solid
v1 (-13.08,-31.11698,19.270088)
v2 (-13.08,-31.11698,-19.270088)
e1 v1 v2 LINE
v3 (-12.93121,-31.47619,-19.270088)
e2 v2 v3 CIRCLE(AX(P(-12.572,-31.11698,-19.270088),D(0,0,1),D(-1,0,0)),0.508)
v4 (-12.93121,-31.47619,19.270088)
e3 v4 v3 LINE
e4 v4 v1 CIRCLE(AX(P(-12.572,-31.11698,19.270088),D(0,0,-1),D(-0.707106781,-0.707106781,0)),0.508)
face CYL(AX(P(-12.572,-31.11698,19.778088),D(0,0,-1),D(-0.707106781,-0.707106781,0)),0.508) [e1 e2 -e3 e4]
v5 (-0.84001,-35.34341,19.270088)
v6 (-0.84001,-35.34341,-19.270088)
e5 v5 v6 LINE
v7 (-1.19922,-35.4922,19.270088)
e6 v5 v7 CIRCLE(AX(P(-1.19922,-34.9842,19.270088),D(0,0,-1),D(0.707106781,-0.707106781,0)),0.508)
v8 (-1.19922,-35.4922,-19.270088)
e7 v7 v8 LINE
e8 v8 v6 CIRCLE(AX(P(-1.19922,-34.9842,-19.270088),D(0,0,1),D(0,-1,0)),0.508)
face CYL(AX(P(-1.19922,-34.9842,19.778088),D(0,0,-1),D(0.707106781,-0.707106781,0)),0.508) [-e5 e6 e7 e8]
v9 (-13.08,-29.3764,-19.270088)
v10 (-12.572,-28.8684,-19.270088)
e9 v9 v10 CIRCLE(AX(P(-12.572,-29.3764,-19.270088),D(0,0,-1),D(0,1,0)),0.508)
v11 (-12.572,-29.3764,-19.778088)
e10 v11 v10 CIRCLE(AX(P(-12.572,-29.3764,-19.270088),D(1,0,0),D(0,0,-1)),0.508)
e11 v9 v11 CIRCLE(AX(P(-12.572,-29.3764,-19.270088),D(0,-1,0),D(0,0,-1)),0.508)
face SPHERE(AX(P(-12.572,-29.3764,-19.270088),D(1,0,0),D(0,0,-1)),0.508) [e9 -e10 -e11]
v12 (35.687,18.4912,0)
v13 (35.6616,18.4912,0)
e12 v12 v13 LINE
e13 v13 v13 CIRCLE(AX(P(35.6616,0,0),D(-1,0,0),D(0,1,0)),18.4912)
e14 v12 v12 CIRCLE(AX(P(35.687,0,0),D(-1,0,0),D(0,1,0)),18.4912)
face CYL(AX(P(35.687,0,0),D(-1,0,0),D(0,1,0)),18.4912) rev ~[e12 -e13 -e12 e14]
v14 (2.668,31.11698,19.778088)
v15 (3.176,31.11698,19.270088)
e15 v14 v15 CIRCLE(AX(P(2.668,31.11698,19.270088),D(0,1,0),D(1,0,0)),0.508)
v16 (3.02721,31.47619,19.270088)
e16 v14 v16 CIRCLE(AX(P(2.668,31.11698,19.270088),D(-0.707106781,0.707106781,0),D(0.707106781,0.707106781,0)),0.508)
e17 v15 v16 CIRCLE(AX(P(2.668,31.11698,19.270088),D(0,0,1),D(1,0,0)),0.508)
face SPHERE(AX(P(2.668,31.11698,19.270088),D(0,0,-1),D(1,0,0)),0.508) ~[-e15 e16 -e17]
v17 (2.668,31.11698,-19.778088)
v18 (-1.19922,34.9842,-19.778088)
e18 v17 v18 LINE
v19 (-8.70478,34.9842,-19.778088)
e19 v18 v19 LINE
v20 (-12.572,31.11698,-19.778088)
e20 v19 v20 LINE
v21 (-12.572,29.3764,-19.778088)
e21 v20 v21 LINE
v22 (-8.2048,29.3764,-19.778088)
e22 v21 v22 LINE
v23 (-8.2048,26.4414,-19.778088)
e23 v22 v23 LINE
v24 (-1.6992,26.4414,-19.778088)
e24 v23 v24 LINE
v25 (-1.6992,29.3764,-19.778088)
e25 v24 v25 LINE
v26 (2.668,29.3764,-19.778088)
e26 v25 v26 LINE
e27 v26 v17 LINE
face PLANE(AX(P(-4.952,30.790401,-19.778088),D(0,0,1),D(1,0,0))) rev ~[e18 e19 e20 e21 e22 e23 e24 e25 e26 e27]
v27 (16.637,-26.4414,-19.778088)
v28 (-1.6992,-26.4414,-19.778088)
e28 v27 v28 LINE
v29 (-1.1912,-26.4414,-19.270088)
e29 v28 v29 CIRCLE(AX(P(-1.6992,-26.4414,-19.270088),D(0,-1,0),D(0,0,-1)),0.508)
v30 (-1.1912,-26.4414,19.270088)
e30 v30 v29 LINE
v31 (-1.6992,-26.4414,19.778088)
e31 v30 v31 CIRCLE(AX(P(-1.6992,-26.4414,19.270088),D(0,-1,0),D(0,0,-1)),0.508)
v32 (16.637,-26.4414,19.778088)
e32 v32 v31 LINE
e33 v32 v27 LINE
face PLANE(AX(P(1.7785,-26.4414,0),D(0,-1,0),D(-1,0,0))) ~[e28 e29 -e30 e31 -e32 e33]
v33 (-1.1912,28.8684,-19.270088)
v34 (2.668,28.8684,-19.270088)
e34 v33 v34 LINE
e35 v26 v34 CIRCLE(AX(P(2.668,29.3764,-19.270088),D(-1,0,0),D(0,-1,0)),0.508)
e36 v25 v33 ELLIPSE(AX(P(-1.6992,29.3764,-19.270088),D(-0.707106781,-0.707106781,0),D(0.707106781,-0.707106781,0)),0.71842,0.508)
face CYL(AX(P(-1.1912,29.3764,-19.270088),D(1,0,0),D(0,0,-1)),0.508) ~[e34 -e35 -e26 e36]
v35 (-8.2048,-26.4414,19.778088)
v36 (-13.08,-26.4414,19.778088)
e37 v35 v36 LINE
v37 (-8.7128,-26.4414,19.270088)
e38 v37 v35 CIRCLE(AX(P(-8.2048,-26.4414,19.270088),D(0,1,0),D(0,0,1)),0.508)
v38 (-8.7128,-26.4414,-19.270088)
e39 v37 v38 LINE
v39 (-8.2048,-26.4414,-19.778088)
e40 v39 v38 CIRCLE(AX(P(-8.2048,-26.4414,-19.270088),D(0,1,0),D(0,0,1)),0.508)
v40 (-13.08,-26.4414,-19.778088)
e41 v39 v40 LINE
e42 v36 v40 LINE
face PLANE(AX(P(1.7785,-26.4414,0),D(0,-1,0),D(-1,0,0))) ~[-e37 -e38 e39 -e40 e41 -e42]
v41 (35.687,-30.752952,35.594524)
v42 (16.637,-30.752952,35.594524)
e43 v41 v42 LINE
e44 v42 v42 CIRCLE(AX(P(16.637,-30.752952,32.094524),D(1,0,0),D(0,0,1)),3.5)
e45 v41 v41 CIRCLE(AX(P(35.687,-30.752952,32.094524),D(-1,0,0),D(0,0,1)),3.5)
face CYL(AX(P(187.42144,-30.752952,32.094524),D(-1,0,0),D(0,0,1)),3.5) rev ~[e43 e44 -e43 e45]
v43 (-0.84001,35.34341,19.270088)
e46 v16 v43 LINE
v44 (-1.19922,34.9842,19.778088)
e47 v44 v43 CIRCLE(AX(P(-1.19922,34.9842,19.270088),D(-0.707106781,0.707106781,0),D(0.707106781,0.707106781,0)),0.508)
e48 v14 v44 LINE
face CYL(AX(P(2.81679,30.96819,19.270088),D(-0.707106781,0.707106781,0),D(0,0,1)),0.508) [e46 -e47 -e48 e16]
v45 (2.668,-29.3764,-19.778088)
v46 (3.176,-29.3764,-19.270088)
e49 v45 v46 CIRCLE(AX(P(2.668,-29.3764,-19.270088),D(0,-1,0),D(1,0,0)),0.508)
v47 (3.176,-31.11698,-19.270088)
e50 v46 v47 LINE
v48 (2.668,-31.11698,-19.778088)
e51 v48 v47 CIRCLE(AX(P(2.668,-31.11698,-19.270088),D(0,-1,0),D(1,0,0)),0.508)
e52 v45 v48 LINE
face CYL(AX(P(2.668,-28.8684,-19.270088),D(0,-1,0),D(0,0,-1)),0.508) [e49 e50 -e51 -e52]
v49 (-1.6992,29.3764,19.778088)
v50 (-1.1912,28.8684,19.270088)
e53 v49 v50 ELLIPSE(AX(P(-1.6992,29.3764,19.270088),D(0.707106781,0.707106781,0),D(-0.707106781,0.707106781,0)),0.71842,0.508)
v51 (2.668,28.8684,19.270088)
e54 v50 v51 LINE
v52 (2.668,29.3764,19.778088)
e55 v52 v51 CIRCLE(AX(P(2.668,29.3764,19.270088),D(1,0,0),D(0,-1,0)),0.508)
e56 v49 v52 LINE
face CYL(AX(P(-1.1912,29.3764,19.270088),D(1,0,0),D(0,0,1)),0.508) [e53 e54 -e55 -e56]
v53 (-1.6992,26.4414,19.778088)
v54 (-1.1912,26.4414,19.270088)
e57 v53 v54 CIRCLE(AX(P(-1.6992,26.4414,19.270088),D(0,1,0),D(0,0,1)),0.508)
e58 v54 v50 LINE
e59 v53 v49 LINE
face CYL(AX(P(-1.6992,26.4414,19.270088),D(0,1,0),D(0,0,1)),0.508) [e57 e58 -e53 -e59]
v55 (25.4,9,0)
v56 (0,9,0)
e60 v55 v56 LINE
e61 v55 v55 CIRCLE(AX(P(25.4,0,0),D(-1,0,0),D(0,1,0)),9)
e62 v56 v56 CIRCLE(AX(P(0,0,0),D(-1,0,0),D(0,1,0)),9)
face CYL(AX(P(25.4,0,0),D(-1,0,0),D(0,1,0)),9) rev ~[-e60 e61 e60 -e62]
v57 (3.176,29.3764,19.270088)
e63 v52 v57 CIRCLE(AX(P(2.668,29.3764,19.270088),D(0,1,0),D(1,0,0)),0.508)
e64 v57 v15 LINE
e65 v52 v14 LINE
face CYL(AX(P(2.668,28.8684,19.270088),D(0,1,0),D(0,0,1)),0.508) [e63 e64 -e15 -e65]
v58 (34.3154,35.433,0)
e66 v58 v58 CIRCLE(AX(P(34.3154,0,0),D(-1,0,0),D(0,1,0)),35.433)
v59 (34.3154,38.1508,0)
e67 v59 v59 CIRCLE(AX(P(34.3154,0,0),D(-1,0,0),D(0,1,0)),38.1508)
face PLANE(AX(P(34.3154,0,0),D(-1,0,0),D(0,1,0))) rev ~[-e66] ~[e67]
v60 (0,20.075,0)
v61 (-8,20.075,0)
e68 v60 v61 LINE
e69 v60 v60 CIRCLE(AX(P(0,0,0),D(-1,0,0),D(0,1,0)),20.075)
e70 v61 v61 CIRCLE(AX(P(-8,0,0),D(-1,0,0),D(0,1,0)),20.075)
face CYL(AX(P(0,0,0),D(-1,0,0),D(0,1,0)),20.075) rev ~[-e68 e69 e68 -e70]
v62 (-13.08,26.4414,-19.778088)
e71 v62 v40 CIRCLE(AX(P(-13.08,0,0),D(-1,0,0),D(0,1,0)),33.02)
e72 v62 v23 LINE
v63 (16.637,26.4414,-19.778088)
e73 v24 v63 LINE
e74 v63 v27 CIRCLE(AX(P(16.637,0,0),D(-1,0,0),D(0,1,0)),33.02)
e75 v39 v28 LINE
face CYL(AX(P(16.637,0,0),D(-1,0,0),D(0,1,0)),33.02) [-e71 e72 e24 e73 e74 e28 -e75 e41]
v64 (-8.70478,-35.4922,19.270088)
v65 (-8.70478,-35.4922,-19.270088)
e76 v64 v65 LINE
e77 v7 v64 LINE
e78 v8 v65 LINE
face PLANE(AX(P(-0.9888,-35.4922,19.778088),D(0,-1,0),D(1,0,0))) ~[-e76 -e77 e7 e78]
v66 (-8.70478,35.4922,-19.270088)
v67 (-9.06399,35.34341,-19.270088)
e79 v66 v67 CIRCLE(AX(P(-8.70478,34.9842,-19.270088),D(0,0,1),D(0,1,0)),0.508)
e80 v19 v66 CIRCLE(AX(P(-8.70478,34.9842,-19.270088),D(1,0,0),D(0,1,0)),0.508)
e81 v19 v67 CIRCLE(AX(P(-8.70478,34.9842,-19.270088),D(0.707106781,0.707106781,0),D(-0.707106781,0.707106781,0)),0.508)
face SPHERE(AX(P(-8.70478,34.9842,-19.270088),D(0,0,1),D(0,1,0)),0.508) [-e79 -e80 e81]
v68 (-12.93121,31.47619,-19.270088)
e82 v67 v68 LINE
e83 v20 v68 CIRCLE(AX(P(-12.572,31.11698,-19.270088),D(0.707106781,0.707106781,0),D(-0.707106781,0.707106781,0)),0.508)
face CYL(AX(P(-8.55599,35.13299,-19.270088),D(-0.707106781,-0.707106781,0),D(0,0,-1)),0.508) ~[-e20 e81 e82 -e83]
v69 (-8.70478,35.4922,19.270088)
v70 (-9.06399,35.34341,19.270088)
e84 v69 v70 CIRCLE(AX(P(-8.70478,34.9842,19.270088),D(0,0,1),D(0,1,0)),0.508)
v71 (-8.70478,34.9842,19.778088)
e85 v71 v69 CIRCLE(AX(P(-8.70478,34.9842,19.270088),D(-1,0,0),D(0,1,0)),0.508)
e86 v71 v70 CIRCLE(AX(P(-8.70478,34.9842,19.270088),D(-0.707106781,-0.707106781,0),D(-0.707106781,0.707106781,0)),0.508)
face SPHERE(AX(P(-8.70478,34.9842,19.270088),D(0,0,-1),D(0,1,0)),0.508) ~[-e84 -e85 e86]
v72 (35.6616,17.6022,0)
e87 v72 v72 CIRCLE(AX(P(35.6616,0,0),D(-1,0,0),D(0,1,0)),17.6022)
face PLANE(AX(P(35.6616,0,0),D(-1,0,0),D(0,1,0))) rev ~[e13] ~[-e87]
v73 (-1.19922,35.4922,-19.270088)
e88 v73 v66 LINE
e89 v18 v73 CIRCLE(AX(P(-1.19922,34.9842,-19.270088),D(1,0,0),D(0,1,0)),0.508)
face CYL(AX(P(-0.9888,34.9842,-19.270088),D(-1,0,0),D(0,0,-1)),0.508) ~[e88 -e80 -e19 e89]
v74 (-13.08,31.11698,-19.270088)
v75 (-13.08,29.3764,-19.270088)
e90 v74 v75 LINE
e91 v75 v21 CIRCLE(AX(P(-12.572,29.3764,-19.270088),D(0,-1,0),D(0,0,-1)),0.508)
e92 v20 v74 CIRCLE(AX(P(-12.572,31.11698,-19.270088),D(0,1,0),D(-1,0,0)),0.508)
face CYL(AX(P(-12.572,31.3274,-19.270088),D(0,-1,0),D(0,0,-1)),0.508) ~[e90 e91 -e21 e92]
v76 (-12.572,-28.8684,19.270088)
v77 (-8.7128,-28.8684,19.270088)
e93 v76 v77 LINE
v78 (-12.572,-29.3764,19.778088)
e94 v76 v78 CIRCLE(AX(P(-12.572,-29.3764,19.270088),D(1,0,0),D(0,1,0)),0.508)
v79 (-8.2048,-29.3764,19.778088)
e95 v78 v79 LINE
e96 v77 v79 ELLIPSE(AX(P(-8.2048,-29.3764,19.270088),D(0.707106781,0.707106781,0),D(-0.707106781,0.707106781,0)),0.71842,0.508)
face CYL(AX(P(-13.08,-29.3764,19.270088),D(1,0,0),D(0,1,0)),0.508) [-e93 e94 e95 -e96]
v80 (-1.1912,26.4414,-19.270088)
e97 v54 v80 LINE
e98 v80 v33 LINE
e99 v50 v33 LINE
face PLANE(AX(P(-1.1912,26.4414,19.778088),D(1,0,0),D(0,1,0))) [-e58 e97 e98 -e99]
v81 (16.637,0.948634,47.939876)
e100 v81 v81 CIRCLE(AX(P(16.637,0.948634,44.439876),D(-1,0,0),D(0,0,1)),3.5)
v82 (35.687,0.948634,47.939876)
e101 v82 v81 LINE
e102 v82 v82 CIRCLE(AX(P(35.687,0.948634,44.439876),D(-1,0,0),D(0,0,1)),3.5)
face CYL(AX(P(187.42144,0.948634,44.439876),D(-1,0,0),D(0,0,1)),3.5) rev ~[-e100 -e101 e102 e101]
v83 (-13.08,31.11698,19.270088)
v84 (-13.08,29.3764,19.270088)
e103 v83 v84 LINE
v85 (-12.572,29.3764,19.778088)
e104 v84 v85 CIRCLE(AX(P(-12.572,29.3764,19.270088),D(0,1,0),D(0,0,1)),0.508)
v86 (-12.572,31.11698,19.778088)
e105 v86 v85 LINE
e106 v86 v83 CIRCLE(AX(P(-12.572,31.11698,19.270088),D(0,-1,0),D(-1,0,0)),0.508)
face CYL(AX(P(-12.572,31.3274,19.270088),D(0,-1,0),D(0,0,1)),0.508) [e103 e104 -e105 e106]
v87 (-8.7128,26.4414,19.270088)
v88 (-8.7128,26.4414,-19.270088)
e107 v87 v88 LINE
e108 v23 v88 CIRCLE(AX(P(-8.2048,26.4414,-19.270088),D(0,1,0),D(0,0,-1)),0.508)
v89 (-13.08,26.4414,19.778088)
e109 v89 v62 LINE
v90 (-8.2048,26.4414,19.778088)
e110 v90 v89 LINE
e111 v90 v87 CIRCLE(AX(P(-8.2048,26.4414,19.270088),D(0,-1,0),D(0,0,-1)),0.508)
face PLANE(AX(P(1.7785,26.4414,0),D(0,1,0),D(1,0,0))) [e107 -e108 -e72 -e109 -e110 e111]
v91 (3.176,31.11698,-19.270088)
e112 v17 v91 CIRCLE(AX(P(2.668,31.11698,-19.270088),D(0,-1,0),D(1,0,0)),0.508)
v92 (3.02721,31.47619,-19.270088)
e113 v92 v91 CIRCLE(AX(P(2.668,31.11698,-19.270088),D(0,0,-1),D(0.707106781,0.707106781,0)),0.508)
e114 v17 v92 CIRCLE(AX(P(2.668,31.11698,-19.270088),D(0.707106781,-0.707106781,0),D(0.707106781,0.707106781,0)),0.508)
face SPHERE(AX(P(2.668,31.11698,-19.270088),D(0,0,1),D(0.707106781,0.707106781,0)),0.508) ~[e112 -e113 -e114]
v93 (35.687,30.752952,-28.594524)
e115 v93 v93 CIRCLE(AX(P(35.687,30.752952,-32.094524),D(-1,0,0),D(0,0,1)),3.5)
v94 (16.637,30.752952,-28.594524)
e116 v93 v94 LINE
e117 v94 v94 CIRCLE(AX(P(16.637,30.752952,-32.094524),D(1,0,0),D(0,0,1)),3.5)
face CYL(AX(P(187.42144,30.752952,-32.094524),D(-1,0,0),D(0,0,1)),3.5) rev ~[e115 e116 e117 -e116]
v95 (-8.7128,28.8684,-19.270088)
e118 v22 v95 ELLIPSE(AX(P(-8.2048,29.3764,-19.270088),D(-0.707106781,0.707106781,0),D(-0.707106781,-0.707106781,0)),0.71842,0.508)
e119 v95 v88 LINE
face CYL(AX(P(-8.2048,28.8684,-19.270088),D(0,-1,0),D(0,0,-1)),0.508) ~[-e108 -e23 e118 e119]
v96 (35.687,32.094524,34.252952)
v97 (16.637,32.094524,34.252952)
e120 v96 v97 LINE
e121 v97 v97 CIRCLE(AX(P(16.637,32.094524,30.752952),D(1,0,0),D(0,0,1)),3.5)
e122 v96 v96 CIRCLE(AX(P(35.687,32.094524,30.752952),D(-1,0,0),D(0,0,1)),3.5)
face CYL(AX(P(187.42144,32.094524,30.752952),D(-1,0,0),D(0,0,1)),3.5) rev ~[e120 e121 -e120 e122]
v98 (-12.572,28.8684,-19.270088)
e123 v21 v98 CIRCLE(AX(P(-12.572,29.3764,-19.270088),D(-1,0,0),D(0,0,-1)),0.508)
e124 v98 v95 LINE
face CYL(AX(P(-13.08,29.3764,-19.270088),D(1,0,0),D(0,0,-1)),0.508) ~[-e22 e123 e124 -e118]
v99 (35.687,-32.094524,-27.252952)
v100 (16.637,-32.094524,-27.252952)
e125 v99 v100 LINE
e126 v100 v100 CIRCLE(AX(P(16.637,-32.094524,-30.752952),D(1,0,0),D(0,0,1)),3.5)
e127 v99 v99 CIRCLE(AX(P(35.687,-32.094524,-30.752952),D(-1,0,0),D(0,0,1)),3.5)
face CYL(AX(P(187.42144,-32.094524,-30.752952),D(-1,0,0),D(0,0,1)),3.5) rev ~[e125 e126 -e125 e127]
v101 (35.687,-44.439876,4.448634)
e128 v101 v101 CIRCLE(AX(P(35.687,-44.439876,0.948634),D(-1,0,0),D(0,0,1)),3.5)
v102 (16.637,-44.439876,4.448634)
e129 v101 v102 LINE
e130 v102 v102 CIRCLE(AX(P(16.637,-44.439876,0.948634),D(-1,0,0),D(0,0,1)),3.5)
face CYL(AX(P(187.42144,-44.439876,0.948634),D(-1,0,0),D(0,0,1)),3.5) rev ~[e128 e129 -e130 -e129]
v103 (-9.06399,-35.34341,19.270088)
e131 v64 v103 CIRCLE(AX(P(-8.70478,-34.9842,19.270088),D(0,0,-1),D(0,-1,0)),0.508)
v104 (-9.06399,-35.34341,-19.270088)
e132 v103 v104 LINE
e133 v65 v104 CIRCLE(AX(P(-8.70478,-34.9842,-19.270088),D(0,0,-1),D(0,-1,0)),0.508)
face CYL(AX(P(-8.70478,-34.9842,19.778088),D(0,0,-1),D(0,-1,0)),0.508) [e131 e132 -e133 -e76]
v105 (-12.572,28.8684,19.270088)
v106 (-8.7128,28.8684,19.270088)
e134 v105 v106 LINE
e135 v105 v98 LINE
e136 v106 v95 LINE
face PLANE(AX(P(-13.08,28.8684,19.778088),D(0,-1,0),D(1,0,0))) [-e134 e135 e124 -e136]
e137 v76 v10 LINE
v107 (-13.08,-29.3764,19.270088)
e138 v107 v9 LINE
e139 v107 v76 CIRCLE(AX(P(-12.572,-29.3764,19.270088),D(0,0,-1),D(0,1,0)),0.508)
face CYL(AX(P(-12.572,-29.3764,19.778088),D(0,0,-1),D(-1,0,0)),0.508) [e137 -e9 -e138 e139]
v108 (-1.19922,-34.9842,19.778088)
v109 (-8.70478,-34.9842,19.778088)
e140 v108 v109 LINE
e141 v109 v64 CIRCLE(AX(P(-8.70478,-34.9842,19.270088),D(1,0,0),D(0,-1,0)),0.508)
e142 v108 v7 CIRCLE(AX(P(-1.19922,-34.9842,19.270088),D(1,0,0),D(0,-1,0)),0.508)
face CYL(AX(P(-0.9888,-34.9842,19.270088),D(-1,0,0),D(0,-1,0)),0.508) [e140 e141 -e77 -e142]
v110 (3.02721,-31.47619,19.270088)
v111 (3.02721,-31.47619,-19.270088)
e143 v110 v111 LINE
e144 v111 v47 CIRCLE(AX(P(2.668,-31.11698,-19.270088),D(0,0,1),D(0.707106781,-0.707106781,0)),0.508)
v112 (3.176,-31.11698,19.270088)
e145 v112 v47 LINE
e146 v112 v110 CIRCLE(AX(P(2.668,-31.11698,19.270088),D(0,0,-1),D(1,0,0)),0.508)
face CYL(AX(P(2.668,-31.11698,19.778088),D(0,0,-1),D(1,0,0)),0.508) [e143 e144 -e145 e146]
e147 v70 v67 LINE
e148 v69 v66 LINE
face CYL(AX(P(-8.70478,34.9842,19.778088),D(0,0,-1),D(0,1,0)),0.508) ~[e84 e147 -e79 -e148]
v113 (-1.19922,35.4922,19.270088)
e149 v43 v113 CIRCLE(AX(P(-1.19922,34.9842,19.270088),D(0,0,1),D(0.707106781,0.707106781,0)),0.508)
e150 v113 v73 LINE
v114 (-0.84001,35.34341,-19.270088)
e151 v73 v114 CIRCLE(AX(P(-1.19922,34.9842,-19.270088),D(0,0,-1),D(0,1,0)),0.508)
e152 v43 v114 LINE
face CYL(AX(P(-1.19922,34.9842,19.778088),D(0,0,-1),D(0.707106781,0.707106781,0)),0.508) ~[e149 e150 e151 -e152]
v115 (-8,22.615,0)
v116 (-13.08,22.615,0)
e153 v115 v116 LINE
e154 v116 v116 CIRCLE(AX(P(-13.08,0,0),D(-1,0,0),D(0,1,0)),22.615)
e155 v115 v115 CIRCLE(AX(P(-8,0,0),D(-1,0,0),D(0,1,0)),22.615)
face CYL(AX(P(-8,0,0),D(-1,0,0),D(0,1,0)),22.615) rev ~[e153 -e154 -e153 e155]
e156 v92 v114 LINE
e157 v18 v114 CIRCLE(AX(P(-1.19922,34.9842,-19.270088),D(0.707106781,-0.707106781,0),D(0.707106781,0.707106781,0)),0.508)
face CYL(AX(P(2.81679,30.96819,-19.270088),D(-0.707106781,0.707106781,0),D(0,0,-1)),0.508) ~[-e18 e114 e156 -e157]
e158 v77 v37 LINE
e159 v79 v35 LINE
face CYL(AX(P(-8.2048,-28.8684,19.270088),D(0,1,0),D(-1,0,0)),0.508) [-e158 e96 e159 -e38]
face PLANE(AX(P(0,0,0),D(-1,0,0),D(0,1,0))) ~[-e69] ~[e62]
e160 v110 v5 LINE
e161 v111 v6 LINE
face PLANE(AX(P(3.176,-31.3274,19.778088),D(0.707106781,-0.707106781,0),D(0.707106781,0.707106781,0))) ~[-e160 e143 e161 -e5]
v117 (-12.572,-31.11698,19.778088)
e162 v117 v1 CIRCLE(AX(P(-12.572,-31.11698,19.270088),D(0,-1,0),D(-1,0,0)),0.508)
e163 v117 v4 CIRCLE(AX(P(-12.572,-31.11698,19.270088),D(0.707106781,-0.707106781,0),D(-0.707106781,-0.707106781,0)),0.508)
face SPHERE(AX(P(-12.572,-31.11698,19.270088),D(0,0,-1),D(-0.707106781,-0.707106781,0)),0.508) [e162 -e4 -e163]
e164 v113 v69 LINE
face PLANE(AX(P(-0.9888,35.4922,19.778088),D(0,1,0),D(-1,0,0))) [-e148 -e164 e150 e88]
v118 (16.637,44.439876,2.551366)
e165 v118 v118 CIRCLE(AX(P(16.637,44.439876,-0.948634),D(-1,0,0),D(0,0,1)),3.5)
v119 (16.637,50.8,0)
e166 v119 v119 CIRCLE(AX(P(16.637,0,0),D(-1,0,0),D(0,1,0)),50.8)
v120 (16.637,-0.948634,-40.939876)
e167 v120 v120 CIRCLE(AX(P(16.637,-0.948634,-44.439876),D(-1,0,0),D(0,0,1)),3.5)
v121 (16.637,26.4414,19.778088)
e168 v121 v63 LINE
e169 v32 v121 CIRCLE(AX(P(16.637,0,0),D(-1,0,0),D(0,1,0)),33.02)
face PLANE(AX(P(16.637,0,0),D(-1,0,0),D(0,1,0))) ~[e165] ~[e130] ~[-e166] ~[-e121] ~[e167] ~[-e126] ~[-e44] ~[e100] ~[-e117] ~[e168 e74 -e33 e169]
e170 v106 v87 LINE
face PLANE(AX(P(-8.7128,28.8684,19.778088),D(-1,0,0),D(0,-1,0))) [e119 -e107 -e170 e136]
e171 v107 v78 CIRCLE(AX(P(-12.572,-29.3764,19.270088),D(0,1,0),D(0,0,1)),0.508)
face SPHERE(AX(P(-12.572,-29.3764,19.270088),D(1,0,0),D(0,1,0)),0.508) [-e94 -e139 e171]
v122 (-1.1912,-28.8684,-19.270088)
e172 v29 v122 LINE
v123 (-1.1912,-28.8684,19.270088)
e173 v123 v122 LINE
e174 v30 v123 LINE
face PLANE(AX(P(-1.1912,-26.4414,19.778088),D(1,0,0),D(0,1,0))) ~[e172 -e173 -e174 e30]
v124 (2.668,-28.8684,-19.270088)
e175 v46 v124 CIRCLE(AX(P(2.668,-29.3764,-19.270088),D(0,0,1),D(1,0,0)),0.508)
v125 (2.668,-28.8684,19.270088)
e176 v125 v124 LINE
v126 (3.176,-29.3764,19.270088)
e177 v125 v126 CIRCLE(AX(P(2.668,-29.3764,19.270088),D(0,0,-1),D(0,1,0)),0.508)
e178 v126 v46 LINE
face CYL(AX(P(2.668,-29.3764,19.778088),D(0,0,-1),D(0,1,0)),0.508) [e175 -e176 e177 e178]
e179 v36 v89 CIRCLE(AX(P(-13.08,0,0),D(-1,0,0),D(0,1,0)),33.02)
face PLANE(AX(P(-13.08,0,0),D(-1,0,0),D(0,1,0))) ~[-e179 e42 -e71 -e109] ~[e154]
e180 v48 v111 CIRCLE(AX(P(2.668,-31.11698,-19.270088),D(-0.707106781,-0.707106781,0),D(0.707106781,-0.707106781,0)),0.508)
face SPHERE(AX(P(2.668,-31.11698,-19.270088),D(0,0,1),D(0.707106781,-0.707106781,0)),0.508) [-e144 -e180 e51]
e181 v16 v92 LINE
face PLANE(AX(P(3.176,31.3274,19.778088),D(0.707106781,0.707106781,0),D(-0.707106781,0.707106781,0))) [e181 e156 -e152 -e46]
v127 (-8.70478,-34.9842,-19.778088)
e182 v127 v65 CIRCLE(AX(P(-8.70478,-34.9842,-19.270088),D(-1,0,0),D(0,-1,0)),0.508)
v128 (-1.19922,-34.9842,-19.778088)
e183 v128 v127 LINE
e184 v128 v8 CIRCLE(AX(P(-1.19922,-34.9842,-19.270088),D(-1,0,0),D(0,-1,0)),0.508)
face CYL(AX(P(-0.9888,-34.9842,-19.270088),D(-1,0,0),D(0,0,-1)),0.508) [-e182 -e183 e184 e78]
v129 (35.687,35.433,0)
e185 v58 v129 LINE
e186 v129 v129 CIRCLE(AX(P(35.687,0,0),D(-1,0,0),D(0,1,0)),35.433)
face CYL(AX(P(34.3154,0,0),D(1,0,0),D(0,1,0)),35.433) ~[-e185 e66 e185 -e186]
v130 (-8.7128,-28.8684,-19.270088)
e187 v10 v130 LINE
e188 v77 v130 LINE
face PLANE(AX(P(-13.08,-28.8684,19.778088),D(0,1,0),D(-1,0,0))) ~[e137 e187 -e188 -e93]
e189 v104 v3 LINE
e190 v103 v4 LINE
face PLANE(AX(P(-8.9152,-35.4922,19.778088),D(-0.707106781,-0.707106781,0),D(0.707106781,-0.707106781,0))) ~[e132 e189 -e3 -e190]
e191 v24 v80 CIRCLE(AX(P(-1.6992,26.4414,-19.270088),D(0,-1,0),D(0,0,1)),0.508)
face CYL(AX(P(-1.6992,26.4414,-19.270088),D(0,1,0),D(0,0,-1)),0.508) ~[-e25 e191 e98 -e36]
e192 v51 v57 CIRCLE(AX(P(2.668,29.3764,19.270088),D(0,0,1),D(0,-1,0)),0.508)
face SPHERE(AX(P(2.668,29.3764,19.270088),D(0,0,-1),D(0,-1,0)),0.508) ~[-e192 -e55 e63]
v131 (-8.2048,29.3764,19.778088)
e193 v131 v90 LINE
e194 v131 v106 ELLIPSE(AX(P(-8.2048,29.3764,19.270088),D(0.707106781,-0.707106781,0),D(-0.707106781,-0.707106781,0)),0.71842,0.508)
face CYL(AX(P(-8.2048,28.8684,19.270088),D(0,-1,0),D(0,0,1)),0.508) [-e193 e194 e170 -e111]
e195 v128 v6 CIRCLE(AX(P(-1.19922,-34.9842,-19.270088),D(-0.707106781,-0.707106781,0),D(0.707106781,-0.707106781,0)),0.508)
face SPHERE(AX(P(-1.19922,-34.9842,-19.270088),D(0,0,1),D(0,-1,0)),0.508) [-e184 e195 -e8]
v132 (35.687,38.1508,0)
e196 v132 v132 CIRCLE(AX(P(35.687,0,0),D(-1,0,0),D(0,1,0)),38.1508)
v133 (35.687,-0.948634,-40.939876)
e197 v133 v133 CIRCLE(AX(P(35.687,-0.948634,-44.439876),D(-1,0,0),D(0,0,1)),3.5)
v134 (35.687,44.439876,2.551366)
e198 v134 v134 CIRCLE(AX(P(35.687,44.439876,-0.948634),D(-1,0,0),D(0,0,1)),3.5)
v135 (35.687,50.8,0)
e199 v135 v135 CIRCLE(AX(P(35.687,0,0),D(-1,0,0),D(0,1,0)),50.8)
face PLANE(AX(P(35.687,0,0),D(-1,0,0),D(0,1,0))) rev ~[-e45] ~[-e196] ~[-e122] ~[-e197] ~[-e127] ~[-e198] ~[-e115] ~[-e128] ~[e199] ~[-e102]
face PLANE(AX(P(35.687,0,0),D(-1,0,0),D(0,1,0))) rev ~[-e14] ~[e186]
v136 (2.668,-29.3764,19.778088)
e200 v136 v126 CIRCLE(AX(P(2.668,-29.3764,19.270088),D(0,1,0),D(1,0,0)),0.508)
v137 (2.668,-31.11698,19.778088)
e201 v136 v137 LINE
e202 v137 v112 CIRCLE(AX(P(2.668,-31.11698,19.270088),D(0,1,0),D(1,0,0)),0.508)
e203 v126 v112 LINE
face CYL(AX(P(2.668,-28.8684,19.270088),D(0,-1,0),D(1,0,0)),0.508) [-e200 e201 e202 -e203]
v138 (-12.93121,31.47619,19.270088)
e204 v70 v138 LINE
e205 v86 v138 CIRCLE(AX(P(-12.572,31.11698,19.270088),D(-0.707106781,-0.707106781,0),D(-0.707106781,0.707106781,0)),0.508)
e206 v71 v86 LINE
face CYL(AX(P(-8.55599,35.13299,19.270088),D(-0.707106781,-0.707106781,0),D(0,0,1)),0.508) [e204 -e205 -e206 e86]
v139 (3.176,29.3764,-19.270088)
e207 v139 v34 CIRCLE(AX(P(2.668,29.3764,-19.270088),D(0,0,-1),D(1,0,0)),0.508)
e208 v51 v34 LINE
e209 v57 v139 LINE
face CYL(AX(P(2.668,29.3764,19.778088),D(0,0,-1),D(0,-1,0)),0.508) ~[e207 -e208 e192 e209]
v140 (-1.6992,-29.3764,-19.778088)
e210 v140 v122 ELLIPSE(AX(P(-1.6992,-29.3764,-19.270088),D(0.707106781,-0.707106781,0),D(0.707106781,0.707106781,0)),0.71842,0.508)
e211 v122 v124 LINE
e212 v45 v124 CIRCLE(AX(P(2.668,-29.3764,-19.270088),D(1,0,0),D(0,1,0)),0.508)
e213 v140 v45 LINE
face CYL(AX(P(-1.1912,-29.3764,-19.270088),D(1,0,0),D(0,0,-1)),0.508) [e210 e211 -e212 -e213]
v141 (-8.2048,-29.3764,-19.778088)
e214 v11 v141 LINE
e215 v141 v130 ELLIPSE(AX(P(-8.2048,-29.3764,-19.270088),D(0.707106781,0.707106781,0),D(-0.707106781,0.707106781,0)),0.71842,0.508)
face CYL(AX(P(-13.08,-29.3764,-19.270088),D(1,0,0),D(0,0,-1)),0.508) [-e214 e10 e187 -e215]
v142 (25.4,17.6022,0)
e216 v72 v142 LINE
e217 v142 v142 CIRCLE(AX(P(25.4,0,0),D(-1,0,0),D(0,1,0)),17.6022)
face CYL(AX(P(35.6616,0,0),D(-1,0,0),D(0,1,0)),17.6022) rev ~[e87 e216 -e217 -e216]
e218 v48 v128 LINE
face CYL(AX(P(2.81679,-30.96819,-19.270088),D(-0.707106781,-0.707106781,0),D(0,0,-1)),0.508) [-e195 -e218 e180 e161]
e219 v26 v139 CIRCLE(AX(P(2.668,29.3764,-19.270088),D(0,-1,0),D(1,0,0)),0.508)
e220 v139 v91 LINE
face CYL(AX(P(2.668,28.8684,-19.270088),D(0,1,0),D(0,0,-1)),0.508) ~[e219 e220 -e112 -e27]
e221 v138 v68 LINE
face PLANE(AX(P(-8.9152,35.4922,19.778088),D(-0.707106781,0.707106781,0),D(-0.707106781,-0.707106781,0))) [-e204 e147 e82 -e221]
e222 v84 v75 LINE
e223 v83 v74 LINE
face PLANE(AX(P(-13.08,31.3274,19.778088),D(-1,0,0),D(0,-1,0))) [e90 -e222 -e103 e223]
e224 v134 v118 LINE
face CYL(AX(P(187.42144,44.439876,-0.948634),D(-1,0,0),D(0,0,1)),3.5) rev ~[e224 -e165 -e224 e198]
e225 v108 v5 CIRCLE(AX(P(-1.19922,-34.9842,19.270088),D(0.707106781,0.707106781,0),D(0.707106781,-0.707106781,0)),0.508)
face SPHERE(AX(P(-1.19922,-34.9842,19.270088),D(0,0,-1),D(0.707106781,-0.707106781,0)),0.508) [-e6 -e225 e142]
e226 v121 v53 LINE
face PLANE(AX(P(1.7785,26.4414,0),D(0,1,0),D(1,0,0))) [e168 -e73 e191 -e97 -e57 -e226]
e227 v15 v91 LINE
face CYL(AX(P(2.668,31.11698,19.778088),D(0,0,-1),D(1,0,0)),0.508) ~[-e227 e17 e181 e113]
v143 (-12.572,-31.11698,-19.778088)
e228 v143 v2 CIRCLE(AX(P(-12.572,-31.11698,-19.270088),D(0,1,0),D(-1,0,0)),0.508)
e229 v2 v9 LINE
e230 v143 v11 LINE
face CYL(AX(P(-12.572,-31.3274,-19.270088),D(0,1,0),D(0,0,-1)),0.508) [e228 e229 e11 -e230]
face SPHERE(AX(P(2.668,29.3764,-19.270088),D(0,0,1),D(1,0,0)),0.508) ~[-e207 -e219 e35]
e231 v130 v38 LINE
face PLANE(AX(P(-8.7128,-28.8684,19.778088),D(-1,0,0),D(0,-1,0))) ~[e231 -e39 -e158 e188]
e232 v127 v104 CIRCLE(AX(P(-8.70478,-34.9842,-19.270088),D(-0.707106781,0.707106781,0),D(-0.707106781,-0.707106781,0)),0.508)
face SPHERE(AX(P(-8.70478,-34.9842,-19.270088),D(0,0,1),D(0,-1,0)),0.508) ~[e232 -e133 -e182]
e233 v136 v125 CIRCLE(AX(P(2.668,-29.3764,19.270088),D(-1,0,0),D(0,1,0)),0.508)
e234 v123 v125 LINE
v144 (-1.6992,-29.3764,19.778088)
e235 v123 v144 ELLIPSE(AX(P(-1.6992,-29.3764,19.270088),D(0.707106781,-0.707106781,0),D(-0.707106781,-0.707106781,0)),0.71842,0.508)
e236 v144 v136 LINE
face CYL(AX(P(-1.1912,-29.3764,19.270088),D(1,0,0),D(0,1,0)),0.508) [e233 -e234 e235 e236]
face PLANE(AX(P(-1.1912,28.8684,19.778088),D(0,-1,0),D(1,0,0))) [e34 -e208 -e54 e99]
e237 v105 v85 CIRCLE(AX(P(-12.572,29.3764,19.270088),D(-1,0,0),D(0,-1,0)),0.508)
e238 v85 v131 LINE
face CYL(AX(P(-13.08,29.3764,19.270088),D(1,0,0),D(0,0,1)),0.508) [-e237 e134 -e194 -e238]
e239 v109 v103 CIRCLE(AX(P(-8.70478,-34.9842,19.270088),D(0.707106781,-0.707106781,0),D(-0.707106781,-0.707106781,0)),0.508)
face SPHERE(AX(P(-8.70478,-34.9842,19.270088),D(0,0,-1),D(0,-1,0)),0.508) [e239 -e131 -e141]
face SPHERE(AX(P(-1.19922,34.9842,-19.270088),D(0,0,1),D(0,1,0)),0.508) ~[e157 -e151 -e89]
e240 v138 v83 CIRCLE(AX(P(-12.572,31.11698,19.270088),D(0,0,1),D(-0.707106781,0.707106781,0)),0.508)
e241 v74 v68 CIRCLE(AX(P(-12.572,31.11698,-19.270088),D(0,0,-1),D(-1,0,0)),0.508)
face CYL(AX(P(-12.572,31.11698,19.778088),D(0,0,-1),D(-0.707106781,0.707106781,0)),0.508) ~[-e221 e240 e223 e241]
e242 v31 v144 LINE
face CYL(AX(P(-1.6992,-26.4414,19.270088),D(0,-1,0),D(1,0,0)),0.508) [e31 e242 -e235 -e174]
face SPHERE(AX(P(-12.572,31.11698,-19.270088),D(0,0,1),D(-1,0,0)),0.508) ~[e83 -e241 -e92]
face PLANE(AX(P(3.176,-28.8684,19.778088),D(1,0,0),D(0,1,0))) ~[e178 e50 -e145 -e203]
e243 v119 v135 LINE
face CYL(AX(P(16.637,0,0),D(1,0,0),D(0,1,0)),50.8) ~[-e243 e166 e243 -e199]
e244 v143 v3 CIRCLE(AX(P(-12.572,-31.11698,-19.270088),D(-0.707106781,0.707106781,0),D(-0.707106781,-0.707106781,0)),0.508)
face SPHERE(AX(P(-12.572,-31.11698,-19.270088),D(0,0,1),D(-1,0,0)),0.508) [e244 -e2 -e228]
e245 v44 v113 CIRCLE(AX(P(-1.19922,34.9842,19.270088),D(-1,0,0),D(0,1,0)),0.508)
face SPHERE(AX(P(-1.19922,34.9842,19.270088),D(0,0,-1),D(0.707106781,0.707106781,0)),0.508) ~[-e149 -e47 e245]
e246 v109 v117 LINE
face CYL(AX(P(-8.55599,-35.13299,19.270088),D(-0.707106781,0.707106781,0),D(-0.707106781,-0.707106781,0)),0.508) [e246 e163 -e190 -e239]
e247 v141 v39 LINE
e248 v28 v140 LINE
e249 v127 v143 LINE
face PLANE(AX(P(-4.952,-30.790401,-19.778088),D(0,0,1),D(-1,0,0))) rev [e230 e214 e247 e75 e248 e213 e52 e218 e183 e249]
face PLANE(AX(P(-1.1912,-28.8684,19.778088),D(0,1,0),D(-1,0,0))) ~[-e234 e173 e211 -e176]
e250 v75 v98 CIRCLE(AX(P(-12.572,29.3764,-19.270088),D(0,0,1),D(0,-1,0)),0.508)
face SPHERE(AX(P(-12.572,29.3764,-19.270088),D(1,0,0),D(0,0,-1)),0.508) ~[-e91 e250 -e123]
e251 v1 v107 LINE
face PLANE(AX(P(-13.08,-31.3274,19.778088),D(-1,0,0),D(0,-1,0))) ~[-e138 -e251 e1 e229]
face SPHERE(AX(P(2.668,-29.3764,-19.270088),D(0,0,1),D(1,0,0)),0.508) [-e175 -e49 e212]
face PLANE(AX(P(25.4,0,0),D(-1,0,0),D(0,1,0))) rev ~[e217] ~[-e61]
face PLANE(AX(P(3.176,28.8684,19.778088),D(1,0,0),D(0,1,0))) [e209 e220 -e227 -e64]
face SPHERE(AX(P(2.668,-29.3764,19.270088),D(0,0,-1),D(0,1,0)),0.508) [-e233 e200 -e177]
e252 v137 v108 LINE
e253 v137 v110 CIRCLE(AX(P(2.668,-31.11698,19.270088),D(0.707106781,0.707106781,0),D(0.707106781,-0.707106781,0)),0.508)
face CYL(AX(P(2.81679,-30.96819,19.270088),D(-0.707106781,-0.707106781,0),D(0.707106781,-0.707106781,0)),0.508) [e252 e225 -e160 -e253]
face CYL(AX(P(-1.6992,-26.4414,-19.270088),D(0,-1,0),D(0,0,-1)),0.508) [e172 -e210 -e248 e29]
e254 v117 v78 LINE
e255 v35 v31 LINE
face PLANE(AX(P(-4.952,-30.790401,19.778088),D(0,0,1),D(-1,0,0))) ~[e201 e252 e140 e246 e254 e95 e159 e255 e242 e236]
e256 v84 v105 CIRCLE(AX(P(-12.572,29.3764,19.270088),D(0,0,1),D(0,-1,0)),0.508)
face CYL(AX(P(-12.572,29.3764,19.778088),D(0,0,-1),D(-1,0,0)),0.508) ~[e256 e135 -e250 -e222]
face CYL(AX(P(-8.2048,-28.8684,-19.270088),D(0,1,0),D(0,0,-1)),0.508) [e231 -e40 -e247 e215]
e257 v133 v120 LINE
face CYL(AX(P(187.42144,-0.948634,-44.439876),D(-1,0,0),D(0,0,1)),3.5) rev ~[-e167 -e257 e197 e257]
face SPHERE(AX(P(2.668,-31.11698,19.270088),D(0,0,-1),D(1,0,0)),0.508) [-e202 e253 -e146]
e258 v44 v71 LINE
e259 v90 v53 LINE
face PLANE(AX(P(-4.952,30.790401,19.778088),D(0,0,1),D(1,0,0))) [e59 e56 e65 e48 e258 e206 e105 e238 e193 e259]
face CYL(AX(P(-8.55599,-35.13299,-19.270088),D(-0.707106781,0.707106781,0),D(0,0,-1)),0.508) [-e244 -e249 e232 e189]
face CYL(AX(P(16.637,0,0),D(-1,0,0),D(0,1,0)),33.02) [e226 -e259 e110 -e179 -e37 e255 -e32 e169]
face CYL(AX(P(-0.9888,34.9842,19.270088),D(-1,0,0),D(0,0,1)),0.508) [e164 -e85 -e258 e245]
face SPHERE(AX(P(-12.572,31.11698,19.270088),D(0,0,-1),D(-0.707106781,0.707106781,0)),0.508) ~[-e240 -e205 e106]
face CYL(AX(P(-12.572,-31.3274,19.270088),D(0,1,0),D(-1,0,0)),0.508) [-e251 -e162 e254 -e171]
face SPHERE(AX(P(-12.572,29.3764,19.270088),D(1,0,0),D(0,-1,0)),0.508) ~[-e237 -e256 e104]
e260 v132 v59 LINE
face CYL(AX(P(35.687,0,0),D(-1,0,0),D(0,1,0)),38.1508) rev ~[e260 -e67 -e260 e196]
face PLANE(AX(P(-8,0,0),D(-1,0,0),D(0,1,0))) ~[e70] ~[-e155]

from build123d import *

# Parameters (mm, degrees)
M6_CLEARANCE_HOLE1_D = 7
SKETCH4_W            = 29.717000002
SKETCH4_H            = 66.04
CUT_EXTRUDE1_DEPTH   = 6.5786
BOSS_EXTRUDE1_DEPTH  = 39.556176
FILLET1_R            = 0.508
FILLET1_OF_MIRROR1_R = 0.508


with BuildPart() as part:
    # Main sketch → Revolve1 (revolve)
    with BuildSketch(Plane.XY):
        Polygon((0, 9.000000034), (0, 20.074999982), (-8.000000002, 20.074999982), (-8.000000002, 22.614999982), (-13.080000002, 22.614999982), (-13.080000002, 33.02), (-8.000000002, 33.02), (16.637, 33.02), (16.637, 50.8), (35.687, 50.8), (35.687, 38.1508), (34.3154, 38.1508), (34.3154, 35.433), (35.687, 35.433), (35.687, 18.4912), (35.6616, 18.4912), (35.6616, 17.6022), (25.4, 17.6022), (25.4, 9.000000034), align=None)
    revolve(axis=Axis((71.950113838, 0, 0), (-1, 0, 0)))

    # M6 Clearance Hole1 (through all)
    with Locations(Plane(origin=(35.687, 0, 0), x_dir=(0, 0, -1), z_dir=(1, 0, 0))):
        with Locations((0, 0), (-44.439876155, 0.948634466), (-32.094523648, -30.75295192), (-0.948634466, -44.439876155), (30.75295192, -32.094523648), (44.439876155, -0.948634466), (32.094523648, 30.75295192), (0.948634466, 44.439876155), (-30.75295192, 32.094523648)):
            Hole(M6_CLEARANCE_HOLE1_D / 2)

    # Sketch4 → Cut-Extrude1 (cut)
    with BuildSketch(Plane(origin=(0, 33.02, 0), x_dir=(1, 0, 0), z_dir=(0, 1, 0))):
        with Locations((1.778499999, 0)):
            Rectangle(SKETCH4_W, SKETCH4_H)
    cut_extrude1 = extrude(amount=-CUT_EXTRUDE1_DEPTH, mode=Mode.SUBTRACT)

    # Sketch5 → Boss-Extrude1 (add)
    with BuildSketch(Plane(origin=(0, 0, 19.778088028), x_dir=(-1, 0, 0), z_dir=(0, 0, -1))):
        Polygon((1.191199802, 26.4414), (1.191199802, 28.868399972), (-3.175999998, 28.868399972), (-3.175999998, 31.327400134), (0.988799902, 35.492200034), (8.915200102, 35.492200034), (13.080000002, 31.327400134), (13.080000002, 28.868399972), (8.712800202, 28.868399972), (8.712800202, 26.4414), align=None)
    boss_extrude1 = extrude(amount=BOSS_EXTRUDE1_DEPTH)

    # Fillet1
    fillet1_edges = [part.edges().sort_by_distance(p)[0] for p in [
        (-8.712800202, 27.654899986, -19.778087972),
        (-8.712800202, 27.654899986, 19.778088028),
        (-10.896400102, 28.868399972, -19.778087972),
        (-10.896400102, 28.868399972, 19.778088028),
        (-13.080000002, 30.097900053, -19.778087972),
        (-13.080000002, 28.868399972, 2.8e-08),
        (-13.080000002, 30.097900053, 19.778088028),
        (-10.997600052, 33.409800084, -19.778087972),
        (-13.080000002, 31.327400134, 2.8e-08),
        (-10.997600052, 33.409800084, 19.778088028),
        (-8.915200102, 35.492200034, 2.8e-08),
        (-0.988799902, 35.492200034, 2.8e-08),
        (3.175999998, 31.327400134, 2.8e-08),
        (3.175999998, 28.868399972, 2.8e-08),
        (-1.191199802, 27.654899986, 19.778088028),
        (0.992400098, 28.868399972, 19.778088028),
        (3.175999998, 30.097900053, 19.778088028),
        (1.093600048, 33.409800084, 19.778088028),
        (-4.952000002, 35.492200034, 19.778088028),
        (-4.952000002, 35.492200034, -19.778087972),
        (1.093600048, 33.409800084, -19.778087972),
        (3.175999998, 30.097900053, -19.778087972),
        (0.992400098, 28.868399972, -19.778087972),
        (-1.191199802, 27.654899986, -19.778087972),
    ]]
    fillet(fillet1_edges, radius=FILLET1_R)

    # Mirror1: Cut-Extrude1, Boss-Extrude1 across plane
    add(cut_extrude1.mirror(Plane.ZX), mode=Mode.SUBTRACT)
    add(boss_extrude1.mirror(Plane.ZX))

    # Fillet1 of Mirror1
    fillet1_of_mirror1_edges = [part.edges().sort_by_distance(p)[0] for p in [
        (-8.712800202, -27.654899986, -19.778087972),
        (-8.712800202, -27.654899986, 19.778088028),
        (-10.896400102, -28.868399972, -19.778087972),
        (-10.896400102, -28.868399972, 19.778088028),
        (-13.080000002, -30.097900053, -19.778087972),
        (-13.080000002, -28.868399972, 2.8e-08),
        (-13.080000002, -30.097900053, 19.778088028),
        (-10.997600052, -33.409800084, -19.778087972),
        (-13.080000002, -31.327400134, 2.8e-08),
        (-10.997600052, -33.409800084, 19.778088028),
        (-8.915200102, -35.492200034, 2.8e-08),
        (-0.988799902, -35.492200034, 2.8e-08),
        (3.175999998, -31.327400134, 2.8e-08),
        (3.175999998, -28.868399972, 2.8e-08),
        (-1.191199802, -27.654899986, 19.778088028),
        (0.992400098, -28.868399972, 19.778088028),
        (3.175999998, -30.097900053, 19.778088028),
        (1.093600048, -33.409800084, 19.778088028),
        (-4.952000002, -35.492200034, 19.778088028),
        (-4.952000002, -35.492200034, -19.778087972),
        (1.093600048, -33.409800084, -19.778087972),
        (3.175999998, -30.097900053, -19.778087972),
        (0.992400098, -28.868399972, -19.778087972),
        (-1.191199802, -27.654899986, -19.778087972),
    ]]
    fillet(fillet1_of_mirror1_edges, radius=FILLET1_OF_MIRROR1_R)


solid = part.part
